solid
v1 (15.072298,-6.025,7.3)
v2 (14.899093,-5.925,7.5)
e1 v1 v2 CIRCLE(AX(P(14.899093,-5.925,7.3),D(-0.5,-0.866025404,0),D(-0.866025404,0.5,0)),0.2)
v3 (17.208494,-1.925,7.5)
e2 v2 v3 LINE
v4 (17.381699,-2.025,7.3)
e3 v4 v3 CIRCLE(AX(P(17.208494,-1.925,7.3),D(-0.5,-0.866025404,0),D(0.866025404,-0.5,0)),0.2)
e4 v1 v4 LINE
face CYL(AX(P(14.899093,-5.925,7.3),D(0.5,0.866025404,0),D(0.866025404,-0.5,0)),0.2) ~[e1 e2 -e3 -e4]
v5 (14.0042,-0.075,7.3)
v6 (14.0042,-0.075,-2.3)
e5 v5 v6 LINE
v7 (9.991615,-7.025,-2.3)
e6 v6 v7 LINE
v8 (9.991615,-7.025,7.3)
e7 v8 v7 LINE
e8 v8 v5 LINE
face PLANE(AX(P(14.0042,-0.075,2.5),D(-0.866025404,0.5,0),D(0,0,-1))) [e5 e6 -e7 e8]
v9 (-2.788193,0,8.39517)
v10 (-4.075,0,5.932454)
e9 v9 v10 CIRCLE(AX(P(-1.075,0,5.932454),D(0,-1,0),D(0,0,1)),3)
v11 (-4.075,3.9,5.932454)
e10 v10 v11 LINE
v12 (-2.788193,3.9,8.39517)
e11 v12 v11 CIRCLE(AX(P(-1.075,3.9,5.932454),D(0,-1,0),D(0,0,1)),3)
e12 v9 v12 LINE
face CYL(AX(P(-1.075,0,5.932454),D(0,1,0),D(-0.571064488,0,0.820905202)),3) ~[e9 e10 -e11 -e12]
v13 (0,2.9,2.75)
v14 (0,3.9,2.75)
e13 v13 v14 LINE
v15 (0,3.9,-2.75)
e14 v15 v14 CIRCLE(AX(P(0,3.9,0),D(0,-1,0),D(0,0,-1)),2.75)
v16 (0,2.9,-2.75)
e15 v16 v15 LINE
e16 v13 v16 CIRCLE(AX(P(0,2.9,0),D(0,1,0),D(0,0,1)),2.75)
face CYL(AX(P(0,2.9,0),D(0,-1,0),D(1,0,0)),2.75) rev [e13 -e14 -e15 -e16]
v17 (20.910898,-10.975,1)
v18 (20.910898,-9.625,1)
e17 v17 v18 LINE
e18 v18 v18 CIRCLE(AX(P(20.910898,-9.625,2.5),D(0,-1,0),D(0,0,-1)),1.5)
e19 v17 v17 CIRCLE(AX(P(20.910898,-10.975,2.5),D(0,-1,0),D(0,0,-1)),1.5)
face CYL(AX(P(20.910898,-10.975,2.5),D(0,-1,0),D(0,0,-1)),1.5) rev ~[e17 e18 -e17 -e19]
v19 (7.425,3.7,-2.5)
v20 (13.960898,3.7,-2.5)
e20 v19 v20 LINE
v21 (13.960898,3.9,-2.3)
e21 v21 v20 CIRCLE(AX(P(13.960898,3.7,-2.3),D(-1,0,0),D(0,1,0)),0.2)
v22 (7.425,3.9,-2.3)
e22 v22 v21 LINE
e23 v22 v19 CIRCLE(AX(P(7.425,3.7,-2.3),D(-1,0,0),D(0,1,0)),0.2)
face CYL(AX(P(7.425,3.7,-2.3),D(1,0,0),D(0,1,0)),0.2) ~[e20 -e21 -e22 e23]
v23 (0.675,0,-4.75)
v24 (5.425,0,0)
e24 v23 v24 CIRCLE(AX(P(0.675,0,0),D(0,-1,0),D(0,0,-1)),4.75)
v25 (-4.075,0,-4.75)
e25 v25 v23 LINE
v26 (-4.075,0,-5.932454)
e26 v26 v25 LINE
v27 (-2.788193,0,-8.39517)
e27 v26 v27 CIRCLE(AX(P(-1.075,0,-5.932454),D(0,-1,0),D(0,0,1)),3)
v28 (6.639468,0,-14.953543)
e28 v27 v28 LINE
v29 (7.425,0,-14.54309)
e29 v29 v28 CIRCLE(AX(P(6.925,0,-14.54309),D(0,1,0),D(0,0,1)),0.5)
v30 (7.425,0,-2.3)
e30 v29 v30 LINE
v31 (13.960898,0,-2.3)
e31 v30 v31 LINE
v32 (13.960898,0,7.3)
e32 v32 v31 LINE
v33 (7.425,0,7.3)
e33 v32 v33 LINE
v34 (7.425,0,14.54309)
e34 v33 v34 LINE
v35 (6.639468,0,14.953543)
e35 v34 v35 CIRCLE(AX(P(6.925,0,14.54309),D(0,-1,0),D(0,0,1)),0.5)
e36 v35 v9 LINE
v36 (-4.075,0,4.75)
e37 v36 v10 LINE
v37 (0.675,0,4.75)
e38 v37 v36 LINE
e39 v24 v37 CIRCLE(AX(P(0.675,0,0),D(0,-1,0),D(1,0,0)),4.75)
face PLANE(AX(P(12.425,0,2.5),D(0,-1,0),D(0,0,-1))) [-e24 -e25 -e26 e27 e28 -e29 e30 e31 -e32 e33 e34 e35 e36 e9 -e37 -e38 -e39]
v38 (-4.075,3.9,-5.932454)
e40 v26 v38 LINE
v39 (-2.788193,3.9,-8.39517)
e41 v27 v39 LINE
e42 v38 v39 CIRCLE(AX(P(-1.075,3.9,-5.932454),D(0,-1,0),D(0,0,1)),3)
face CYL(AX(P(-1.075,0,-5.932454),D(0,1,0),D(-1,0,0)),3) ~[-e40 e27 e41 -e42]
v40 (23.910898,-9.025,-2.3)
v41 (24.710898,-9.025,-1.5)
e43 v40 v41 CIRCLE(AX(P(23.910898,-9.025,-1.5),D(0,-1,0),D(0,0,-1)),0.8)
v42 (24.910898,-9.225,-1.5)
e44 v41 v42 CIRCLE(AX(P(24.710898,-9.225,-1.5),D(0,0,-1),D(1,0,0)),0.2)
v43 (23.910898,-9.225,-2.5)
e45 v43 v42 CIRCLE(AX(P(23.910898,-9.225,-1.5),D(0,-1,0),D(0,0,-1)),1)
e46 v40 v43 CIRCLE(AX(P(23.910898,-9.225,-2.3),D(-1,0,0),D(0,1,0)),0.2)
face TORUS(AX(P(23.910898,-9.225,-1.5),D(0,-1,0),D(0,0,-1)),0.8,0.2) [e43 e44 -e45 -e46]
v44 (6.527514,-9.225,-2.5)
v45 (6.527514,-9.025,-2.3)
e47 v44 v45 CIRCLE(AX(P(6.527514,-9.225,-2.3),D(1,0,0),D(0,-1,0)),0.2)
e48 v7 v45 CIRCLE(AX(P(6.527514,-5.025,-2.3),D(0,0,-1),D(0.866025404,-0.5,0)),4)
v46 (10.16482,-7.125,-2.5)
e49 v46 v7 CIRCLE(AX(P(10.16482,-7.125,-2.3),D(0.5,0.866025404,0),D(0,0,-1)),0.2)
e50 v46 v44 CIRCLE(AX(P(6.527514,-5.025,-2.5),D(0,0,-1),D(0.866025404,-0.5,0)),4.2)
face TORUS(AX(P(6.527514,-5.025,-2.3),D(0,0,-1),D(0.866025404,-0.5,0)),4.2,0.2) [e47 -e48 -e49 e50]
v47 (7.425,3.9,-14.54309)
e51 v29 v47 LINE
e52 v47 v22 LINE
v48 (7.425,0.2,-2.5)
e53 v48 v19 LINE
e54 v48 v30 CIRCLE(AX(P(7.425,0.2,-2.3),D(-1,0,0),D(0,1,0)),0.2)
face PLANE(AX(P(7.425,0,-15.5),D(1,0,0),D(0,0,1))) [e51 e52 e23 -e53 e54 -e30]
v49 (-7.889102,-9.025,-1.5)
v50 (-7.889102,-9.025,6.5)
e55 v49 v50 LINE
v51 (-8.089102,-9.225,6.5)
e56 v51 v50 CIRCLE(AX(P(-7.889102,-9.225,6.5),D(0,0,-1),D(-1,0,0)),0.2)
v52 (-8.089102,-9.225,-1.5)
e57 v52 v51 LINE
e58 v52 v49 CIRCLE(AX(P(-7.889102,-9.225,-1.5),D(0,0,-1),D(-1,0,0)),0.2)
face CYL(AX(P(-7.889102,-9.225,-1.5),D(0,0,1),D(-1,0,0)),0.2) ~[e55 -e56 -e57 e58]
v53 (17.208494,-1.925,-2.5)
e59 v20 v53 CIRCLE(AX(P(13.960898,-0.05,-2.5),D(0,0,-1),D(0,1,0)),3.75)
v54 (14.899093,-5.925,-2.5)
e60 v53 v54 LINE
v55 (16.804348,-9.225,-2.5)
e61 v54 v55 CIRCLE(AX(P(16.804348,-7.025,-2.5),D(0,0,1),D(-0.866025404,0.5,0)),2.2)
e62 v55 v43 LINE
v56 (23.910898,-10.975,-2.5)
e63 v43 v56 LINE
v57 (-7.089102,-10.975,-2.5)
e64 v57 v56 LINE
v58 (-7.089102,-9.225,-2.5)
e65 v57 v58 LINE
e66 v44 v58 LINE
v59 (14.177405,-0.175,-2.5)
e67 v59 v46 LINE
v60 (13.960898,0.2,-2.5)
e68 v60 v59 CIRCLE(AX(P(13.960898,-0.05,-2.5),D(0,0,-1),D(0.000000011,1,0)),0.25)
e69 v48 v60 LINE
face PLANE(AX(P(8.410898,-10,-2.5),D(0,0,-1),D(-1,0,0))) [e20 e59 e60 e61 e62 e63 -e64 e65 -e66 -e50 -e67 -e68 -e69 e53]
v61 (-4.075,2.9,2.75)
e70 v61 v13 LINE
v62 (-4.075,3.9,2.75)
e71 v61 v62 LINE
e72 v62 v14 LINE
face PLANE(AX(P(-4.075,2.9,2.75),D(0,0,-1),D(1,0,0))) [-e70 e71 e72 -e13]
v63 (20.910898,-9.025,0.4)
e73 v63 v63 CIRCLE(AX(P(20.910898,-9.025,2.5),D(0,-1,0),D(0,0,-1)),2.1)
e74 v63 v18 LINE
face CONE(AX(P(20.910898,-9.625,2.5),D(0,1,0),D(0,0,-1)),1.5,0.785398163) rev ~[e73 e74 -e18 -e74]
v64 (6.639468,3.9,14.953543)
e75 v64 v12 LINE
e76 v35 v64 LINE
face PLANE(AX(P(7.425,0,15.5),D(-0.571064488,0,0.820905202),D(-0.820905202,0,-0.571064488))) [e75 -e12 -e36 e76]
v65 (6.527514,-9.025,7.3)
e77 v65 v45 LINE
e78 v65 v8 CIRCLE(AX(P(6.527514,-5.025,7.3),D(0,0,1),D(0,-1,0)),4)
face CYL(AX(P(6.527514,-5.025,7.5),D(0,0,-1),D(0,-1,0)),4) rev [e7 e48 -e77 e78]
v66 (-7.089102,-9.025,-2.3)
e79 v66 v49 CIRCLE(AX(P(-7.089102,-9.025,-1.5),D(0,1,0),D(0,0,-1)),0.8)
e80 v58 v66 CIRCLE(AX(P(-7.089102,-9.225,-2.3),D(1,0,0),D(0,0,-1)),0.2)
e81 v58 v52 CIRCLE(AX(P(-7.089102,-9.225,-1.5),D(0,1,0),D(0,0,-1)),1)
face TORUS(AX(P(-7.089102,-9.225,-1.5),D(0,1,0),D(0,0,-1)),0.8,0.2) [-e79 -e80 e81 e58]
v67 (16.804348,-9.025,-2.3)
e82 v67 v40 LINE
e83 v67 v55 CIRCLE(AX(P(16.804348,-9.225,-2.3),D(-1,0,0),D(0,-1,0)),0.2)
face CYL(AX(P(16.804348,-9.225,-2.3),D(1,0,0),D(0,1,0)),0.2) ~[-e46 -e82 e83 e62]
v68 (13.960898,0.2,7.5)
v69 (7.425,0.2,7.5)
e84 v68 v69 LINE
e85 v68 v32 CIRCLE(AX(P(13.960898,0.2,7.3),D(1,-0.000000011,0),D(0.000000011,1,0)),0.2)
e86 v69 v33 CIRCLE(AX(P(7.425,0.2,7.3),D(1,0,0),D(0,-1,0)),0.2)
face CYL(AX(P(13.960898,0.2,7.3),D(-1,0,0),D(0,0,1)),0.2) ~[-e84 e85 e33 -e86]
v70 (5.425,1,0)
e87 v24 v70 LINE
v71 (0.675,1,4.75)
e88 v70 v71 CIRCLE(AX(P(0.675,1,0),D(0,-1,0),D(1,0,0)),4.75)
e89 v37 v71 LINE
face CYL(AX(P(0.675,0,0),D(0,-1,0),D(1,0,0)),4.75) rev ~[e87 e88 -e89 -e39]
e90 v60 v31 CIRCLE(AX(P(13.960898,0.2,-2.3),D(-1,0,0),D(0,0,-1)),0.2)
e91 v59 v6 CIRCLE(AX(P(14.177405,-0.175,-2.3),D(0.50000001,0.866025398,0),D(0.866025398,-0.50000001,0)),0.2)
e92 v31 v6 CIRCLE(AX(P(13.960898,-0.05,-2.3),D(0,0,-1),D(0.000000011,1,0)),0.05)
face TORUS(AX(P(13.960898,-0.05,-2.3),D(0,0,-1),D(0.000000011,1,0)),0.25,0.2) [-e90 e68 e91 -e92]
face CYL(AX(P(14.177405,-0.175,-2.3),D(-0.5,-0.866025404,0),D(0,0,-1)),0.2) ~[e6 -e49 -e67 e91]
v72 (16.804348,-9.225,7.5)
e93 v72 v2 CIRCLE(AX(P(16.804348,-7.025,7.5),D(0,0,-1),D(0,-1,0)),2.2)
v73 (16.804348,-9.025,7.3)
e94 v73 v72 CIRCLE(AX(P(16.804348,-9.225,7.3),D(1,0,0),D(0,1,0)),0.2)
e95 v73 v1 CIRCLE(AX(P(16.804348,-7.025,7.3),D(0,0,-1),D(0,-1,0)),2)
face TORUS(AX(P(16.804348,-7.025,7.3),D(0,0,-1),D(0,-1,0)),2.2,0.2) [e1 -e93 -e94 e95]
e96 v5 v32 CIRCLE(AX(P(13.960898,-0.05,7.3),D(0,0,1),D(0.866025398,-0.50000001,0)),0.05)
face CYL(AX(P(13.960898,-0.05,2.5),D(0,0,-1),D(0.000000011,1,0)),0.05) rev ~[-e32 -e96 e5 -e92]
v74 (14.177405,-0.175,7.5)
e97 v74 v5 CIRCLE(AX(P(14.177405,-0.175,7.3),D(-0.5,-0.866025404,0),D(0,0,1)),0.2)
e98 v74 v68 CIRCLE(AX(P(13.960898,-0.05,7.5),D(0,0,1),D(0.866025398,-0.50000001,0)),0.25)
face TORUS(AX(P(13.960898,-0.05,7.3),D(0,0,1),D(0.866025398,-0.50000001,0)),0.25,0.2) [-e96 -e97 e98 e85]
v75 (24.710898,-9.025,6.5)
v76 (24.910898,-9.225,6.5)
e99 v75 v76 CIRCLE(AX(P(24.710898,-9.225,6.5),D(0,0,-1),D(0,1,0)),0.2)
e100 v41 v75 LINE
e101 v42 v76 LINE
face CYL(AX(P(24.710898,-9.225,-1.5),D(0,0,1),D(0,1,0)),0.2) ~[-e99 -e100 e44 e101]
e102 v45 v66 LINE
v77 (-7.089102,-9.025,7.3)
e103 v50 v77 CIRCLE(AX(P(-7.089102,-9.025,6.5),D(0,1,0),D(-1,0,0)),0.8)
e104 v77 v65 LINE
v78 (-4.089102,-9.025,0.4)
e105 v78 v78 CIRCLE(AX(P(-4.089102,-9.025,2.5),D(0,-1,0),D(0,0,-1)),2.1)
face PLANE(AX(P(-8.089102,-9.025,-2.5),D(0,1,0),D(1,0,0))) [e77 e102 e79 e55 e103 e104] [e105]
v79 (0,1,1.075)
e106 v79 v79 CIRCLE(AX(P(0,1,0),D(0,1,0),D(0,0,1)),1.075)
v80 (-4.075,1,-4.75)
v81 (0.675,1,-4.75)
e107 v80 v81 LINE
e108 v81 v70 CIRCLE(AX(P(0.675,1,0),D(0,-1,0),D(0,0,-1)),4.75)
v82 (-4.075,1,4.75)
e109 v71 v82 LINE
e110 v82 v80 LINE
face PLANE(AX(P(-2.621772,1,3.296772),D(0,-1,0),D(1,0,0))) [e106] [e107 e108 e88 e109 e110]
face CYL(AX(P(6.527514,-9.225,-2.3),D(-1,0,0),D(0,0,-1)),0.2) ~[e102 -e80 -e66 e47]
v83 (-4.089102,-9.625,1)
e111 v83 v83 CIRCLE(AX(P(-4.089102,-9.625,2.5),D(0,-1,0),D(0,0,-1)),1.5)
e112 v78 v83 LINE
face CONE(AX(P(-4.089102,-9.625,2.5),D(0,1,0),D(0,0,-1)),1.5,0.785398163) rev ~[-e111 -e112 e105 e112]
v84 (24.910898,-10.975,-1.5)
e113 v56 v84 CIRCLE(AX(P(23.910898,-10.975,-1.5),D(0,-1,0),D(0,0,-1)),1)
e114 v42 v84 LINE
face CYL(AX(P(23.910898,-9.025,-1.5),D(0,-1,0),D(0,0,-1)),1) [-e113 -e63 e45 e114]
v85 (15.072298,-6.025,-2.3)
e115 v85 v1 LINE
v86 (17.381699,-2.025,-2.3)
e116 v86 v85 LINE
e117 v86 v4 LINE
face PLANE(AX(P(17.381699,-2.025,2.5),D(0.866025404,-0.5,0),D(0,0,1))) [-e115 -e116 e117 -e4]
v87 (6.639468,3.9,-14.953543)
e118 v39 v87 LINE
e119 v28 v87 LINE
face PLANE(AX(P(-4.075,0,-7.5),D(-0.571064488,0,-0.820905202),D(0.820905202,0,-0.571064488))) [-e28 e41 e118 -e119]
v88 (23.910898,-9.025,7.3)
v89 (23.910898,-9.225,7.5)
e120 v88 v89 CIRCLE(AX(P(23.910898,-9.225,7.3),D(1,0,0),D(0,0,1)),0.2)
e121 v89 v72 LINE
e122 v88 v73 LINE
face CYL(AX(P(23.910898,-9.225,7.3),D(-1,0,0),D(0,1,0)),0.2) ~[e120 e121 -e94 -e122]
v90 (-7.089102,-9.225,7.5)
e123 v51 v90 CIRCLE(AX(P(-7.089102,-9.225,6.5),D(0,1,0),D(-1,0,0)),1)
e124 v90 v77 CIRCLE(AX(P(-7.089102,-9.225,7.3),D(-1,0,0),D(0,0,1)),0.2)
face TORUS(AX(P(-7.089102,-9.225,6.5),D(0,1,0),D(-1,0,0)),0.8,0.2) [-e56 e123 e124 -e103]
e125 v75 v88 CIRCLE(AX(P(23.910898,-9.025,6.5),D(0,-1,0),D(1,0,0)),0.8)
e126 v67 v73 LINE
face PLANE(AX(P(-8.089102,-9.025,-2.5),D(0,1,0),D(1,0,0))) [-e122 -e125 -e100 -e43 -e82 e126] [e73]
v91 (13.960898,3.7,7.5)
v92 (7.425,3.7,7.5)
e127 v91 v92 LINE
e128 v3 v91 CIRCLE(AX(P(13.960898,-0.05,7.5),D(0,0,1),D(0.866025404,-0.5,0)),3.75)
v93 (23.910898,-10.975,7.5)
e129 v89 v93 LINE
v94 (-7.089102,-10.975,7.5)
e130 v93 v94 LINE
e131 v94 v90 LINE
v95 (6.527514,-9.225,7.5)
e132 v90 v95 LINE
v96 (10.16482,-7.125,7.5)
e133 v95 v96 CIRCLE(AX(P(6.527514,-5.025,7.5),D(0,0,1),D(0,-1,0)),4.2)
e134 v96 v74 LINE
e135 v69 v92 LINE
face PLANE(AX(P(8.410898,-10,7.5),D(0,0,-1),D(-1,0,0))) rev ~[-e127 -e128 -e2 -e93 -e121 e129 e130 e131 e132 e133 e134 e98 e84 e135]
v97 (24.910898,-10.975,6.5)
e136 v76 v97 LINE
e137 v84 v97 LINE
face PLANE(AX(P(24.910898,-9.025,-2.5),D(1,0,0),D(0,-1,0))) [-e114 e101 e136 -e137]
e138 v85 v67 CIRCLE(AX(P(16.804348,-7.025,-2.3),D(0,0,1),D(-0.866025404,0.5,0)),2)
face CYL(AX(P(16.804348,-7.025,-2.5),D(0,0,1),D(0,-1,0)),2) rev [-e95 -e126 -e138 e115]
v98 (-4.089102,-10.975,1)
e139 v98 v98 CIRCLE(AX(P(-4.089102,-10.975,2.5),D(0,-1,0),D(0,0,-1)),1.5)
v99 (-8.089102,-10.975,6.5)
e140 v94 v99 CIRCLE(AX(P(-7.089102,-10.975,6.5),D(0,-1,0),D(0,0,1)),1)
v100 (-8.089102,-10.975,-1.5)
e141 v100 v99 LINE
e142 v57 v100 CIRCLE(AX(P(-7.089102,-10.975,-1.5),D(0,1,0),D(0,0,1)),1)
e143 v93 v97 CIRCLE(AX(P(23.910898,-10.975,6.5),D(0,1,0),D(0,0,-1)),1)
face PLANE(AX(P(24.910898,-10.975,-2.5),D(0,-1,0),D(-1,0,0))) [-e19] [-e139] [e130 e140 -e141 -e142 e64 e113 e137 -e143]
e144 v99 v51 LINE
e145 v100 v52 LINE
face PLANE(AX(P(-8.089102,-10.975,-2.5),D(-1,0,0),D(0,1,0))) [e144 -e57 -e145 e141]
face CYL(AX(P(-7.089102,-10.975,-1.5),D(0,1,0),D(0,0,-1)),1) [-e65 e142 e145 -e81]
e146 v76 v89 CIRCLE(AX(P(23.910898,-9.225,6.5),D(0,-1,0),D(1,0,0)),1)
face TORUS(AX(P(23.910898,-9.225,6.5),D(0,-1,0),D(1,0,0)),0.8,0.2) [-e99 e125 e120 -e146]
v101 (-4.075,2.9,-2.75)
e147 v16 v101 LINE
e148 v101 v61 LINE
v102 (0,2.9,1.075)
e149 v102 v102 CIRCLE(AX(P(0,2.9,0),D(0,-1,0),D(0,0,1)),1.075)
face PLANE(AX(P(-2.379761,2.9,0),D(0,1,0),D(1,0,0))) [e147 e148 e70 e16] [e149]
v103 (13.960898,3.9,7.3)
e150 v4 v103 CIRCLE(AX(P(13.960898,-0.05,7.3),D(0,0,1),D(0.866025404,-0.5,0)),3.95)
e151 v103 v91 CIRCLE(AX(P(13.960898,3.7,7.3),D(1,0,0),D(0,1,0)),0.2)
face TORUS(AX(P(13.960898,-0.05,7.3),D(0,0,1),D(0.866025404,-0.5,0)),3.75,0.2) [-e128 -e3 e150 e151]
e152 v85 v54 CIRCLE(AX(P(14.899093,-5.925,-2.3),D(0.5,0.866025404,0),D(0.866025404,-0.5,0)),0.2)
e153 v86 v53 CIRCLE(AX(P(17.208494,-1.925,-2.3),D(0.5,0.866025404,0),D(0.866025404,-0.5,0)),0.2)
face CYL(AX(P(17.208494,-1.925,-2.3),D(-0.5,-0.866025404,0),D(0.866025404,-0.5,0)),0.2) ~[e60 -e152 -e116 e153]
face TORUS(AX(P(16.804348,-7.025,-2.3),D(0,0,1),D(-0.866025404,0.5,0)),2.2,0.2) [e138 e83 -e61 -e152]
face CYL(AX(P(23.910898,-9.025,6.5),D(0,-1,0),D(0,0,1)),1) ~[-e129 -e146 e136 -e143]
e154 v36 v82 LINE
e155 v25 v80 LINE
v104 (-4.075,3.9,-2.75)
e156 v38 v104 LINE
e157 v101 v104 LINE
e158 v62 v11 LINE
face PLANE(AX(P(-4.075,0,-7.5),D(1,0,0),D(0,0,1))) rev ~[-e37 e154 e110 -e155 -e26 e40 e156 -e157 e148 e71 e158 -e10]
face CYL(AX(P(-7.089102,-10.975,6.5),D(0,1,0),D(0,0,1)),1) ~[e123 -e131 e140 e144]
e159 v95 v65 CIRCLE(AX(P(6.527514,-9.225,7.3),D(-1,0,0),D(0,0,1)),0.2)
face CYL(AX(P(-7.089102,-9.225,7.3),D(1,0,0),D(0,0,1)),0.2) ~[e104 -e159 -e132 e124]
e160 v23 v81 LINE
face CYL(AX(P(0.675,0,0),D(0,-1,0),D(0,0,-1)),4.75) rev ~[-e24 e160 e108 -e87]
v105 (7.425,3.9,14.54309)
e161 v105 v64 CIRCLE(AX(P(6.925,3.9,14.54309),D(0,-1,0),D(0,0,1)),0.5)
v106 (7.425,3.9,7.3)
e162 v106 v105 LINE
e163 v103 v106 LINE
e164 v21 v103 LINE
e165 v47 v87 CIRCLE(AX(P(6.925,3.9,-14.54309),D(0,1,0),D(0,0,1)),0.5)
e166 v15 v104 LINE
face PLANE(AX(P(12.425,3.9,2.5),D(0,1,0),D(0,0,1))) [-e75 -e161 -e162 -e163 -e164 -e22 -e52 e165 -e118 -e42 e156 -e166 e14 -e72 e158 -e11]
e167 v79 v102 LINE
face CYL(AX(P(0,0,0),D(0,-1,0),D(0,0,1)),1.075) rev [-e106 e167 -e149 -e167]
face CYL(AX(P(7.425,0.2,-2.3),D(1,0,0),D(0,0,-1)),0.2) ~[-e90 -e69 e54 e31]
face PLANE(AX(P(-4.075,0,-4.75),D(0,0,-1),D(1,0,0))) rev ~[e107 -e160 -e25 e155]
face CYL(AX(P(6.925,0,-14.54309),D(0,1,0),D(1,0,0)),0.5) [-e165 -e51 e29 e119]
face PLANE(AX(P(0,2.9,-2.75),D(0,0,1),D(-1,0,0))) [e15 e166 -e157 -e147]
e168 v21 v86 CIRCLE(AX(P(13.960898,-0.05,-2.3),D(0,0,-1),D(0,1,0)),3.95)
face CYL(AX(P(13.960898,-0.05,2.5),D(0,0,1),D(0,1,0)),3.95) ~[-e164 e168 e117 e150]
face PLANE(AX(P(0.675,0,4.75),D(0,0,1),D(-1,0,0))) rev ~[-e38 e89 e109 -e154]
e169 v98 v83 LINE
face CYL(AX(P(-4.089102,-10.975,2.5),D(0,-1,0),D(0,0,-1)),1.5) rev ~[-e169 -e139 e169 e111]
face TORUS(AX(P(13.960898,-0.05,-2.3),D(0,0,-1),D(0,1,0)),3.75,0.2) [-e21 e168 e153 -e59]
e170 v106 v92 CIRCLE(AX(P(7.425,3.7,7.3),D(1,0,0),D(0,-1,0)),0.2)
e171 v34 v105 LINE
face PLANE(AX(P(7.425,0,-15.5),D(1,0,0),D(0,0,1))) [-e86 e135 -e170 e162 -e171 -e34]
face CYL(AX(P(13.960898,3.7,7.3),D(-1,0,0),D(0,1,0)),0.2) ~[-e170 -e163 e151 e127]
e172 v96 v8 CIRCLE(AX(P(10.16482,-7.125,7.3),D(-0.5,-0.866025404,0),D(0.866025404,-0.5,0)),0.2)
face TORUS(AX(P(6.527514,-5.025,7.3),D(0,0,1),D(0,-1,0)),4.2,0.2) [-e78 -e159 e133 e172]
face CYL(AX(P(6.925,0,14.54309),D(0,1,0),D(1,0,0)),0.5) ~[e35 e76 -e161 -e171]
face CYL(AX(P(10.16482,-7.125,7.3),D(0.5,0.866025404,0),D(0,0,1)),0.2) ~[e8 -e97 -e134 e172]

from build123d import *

# Parameters (mm, degrees)
SKETCH1_R           = 1.075
BOSS_EXTRUDE1_DEPTH = 3.9
CUT_EXTRUDE1_DEPTH  = 1
CUT_EXTRUDE2_START  = -1
SKETCH4_R           = 2.75
SKETCH4_R_2         = 1.075
CUT_EXTRUDE2_DEPTH  = 1
SKETCH6_W           = 10
SKETCH6_H           = 3.9
BOSS_EXTRUDE2_DEPTH = 5
SKETCH7_W           = 10
SKETCH7_H           = 3.9
BOSS_EXTRUDE3_DEPTH = 10
SKETCH10_R          = 1.5
CUT_EXTRUDE3_DEPTH  = 10
FILLET2_R           = 3
FILLET3_R           = 1
FILLET4_R           = 2
FILLET5_R           = 4
CHAMFER1_SIZE       = 0.6
FILLET6_R           = 0.5
FILLET7_R           = 0.2


with BuildPart() as part:
    # Sketch1 → Boss-Extrude1 (new body)
    with BuildSketch(Plane(origin=(0, 0, 0), x_dir=(1, 0, 0), z_dir=(0, 1, 0))):
        Polygon((-4.075, 0), (-4.075, 7.5), (7.425, 15.5), (7.425, -15.5), (-4.075, -7.5), align=None)
        with Locations(Location((0, 0, 0), (0, 0, 270))):
            Circle(SKETCH1_R, mode=Mode.SUBTRACT)
    extrude(amount=BOSS_EXTRUDE1_DEPTH)

    # Sketch2 → Cut-Extrude1 (cut)
    with BuildSketch(Plane.XZ):
        with BuildLine():
            ThreePointArc((-4.075, 0), (-2.683757211, 3.358757211), (0.675, 4.75))
            Line((0.675, 4.75), (-4.075, 4.75))
            Line((-4.075, 4.75), (-4.075, 0))
        make_face()
        with BuildLine():
            Line((-4.075, -4.75), (0.675, -4.75))
            ThreePointArc((0.675, -4.75), (-2.683757211, -3.358757211), (-4.075, 0))
            Line((-4.075, 0), (-4.075, -4.75))
        make_face()
        with BuildLine():
            ThreePointArc((-1.075, 0), (0, 1.075), (1.075, 0))
            Line((1.075, 0), (5.425, 0))
            ThreePointArc((5.425, 0), (4.033757211, 3.358757211), (0.675, 4.75))
            ThreePointArc((0.675, 4.75), (-2.683757211, 3.358757211), (-4.075, 0))
            Line((-4.075, 0), (-1.075, 0))
        make_face()
        with BuildLine():
            Line((5.425, 0), (1.075, 0))
            ThreePointArc((1.075, 0), (0, -1.075), (-1.075, 0))
            Line((-1.075, 0), (-4.075, 0))
            ThreePointArc((-4.075, 0), (-2.683757211, -3.358757211), (0.675, -4.75))
            ThreePointArc((0.675, -4.75), (4.033757211, -3.358757211), (5.425, 0))
        make_face()
    extrude(amount=-CUT_EXTRUDE1_DEPTH, mode=Mode.SUBTRACT)

    # Sketch4 → Cut-Extrude2 (cut)
    # profile 1 of 2: a face of its own
    with BuildSketch(Plane(origin=(0, 3.9, 0), x_dir=(1, 0, 0), z_dir=(0, 1, 0)).offset(CUT_EXTRUDE2_START)):
        with BuildLine():
            ThreePointArc((0, -2.75), (-2.75, 0), (0, 2.75))
            Line((0, 2.75), (-4.075, 2.75))
            Line((-4.075, 2.75), (-4.075, -2.75))
            Line((-4.075, -2.75), (0, -2.75))
        make_face()
    # profile 2 of 2: a face of its own
    with BuildSketch(Plane(origin=(0, 3.9, 0), x_dir=(1, 0, 0), z_dir=(0, 1, 0)).offset(CUT_EXTRUDE2_START)):
        Circle(SKETCH4_R)
        with Locations(Location((0, 0, 0), (0, 0, 90))):
            Circle(SKETCH4_R_2, mode=Mode.SUBTRACT)
    extrude(amount=CUT_EXTRUDE2_DEPTH, mode=Mode.SUBTRACT)

    # Sketch6 → Boss-Extrude2 (add)
    with BuildSketch(Plane(origin=(7.425, 0, 0), x_dir=(0, 0, -1), z_dir=(1, 0, 0))):
        with Locations((-2.5, 1.95)):
            Rectangle(SKETCH6_W, SKETCH6_H)
    extrude(amount=BOSS_EXTRUDE2_DEPTH)

    # Sweep1: sweep along a path in Sketch8
    with BuildLine(Plane.XY) as sweep1_path:
        Line((12.425, 1.95), (13.960898385, 1.95))
        ThreePointArc((13.960898385, 1.95), (15.692949192, 0.95), (15.692949192, -1.05))
        Line((15.692949192, -1.05), (10.525664283, -10))
    # Sketch7 → Sweep1 (sweep)
    with BuildSketch(Plane(origin=(12.425, 0, 0), x_dir=(0, 0, -1), z_dir=(1, 0, 0))):
        with Locations((-2.5, 1.95)):
            Rectangle(SKETCH7_W, SKETCH7_H)
    sweep(path=sweep1_path.line)

    # Sketch9 → Boss-Extrude3 (add)
    with BuildSketch(Plane(origin=(0, 0, -2.5), x_dir=(-1, 0, 0), z_dir=(0, 0, -1))):
        Polygon((-12.214413821, -10.975), (8.089101615, -10.975), (8.089101615, -9.025), (-24.910898385, -9.025), (-24.910898385, -10.975), align=None)
    extrude(amount=-BOSS_EXTRUDE3_DEPTH)

    # Sketch10 → Cut-Extrude3 (cut)
    with BuildSketch(Plane.XZ.offset(10.975)):
        with Locations(Location((-4.089101615, 2.5, 0), (0, 0, 270))):
            Circle(SKETCH10_R)
        with Locations(Location((20.910898385, 2.5, 0), (0, 0, 270))):
            Circle(SKETCH10_R)
    extrude(amount=-CUT_EXTRUDE3_DEPTH, mode=Mode.SUBTRACT)

    # Fillet2
    fillet2_edges = [part.edges().sort_by_distance(p)[0] for p in [
        (-4.075, 1.95, -7.5),
        (-4.075, 1.95, 7.5),
    ]]
    fillet(fillet2_edges, radius=FILLET2_R)

    # Fillet3
    fillet3_edges = [part.edges().sort_by_distance(p)[0] for p in [
        (-8.089101615, -10, -2.5),
        (24.910898385, -10, 7.5),
        (-8.089101615, -10, 7.5),
        (24.910898385, -10, -2.5),
    ]]
    fillet(fillet3_edges, radius=FILLET3_R)

    # Fillet4
    fillet4_edges = [part.edges().sort_by_distance(p)[0] for p in [
        (13.340246845, -9.025, 2.5),
    ]]
    fillet(fillet4_edges, radius=FILLET4_R)

    # Fillet5
    fillet5_edges = [part.edges().sort_by_distance(p)[0] for p in [
        (8.836914746, -9.025, 2.5),
    ]]
    fillet(fillet5_edges, radius=FILLET5_R)

    # Chamfer1
    chamfer1_edges = [part.edges().sort_by_distance(p)[0] for p in [
        (-4.089101615, -9.025, 4),
        (20.910898385, -9.025, 4),
    ]]
    chamfer(chamfer1_edges, length=CHAMFER1_SIZE)

    # Fillet6
    fillet6_edges = [part.edges().sort_by_distance(p)[0] for p in [
        (7.425, 1.95, -15.5),
        (7.425, 1.95, 15.5),
    ]]
    fillet(fillet6_edges, radius=FILLET6_R)

    # Fillet7
    fillet7_edges = [part.edges().sort_by_distance(p)[0] for p in [
        (24.910898385, -9.025, 2.5),
        (-0.280793973, -9.025, 7.5),
        (24.618005166, -9.025, -2.207106781),
        (24.618005166, -9.025, 7.207106781),
        (-0.280793973, -9.025, -2.5),
        (-8.089101615, -9.025, 2.5),
        (-7.796208396, -9.025, 7.207106781),
        (-7.796208396, -9.025, -2.207106781),
        (20.357623423, -9.025, 7.5),
        (20.357623423, -9.025, -2.5),
        (15.072297653, -8.025, 7.5),
        (15.072297653, -8.025, -2.5),
        (8.527513669, -8.489101615, -2.5),
        (8.527513669, -8.489101615, 7.5),
        (10.692949192, 3.9, 7.5),
        (10.692949192, 0, 7.5),
        (10.692949192, 0, -2.5),
        (10.692949192, 3.9, -2.5),
        (17.38169873, 1.925, 7.5),
        (14.004199655, -0.025, 7.5),
        (14.004199655, -0.025, -2.5),
        (17.38169873, 1.925, -2.5),
        (16.226998191, -4.025, 7.5),
        (11.99790747, -3.55, 7.5),
        (11.99790747, -3.55, -2.5),
        (16.226998191, -4.025, -2.5),
    ]]
    fillet(fillet7_edges, radius=FILLET7_R)


solid = part.part
